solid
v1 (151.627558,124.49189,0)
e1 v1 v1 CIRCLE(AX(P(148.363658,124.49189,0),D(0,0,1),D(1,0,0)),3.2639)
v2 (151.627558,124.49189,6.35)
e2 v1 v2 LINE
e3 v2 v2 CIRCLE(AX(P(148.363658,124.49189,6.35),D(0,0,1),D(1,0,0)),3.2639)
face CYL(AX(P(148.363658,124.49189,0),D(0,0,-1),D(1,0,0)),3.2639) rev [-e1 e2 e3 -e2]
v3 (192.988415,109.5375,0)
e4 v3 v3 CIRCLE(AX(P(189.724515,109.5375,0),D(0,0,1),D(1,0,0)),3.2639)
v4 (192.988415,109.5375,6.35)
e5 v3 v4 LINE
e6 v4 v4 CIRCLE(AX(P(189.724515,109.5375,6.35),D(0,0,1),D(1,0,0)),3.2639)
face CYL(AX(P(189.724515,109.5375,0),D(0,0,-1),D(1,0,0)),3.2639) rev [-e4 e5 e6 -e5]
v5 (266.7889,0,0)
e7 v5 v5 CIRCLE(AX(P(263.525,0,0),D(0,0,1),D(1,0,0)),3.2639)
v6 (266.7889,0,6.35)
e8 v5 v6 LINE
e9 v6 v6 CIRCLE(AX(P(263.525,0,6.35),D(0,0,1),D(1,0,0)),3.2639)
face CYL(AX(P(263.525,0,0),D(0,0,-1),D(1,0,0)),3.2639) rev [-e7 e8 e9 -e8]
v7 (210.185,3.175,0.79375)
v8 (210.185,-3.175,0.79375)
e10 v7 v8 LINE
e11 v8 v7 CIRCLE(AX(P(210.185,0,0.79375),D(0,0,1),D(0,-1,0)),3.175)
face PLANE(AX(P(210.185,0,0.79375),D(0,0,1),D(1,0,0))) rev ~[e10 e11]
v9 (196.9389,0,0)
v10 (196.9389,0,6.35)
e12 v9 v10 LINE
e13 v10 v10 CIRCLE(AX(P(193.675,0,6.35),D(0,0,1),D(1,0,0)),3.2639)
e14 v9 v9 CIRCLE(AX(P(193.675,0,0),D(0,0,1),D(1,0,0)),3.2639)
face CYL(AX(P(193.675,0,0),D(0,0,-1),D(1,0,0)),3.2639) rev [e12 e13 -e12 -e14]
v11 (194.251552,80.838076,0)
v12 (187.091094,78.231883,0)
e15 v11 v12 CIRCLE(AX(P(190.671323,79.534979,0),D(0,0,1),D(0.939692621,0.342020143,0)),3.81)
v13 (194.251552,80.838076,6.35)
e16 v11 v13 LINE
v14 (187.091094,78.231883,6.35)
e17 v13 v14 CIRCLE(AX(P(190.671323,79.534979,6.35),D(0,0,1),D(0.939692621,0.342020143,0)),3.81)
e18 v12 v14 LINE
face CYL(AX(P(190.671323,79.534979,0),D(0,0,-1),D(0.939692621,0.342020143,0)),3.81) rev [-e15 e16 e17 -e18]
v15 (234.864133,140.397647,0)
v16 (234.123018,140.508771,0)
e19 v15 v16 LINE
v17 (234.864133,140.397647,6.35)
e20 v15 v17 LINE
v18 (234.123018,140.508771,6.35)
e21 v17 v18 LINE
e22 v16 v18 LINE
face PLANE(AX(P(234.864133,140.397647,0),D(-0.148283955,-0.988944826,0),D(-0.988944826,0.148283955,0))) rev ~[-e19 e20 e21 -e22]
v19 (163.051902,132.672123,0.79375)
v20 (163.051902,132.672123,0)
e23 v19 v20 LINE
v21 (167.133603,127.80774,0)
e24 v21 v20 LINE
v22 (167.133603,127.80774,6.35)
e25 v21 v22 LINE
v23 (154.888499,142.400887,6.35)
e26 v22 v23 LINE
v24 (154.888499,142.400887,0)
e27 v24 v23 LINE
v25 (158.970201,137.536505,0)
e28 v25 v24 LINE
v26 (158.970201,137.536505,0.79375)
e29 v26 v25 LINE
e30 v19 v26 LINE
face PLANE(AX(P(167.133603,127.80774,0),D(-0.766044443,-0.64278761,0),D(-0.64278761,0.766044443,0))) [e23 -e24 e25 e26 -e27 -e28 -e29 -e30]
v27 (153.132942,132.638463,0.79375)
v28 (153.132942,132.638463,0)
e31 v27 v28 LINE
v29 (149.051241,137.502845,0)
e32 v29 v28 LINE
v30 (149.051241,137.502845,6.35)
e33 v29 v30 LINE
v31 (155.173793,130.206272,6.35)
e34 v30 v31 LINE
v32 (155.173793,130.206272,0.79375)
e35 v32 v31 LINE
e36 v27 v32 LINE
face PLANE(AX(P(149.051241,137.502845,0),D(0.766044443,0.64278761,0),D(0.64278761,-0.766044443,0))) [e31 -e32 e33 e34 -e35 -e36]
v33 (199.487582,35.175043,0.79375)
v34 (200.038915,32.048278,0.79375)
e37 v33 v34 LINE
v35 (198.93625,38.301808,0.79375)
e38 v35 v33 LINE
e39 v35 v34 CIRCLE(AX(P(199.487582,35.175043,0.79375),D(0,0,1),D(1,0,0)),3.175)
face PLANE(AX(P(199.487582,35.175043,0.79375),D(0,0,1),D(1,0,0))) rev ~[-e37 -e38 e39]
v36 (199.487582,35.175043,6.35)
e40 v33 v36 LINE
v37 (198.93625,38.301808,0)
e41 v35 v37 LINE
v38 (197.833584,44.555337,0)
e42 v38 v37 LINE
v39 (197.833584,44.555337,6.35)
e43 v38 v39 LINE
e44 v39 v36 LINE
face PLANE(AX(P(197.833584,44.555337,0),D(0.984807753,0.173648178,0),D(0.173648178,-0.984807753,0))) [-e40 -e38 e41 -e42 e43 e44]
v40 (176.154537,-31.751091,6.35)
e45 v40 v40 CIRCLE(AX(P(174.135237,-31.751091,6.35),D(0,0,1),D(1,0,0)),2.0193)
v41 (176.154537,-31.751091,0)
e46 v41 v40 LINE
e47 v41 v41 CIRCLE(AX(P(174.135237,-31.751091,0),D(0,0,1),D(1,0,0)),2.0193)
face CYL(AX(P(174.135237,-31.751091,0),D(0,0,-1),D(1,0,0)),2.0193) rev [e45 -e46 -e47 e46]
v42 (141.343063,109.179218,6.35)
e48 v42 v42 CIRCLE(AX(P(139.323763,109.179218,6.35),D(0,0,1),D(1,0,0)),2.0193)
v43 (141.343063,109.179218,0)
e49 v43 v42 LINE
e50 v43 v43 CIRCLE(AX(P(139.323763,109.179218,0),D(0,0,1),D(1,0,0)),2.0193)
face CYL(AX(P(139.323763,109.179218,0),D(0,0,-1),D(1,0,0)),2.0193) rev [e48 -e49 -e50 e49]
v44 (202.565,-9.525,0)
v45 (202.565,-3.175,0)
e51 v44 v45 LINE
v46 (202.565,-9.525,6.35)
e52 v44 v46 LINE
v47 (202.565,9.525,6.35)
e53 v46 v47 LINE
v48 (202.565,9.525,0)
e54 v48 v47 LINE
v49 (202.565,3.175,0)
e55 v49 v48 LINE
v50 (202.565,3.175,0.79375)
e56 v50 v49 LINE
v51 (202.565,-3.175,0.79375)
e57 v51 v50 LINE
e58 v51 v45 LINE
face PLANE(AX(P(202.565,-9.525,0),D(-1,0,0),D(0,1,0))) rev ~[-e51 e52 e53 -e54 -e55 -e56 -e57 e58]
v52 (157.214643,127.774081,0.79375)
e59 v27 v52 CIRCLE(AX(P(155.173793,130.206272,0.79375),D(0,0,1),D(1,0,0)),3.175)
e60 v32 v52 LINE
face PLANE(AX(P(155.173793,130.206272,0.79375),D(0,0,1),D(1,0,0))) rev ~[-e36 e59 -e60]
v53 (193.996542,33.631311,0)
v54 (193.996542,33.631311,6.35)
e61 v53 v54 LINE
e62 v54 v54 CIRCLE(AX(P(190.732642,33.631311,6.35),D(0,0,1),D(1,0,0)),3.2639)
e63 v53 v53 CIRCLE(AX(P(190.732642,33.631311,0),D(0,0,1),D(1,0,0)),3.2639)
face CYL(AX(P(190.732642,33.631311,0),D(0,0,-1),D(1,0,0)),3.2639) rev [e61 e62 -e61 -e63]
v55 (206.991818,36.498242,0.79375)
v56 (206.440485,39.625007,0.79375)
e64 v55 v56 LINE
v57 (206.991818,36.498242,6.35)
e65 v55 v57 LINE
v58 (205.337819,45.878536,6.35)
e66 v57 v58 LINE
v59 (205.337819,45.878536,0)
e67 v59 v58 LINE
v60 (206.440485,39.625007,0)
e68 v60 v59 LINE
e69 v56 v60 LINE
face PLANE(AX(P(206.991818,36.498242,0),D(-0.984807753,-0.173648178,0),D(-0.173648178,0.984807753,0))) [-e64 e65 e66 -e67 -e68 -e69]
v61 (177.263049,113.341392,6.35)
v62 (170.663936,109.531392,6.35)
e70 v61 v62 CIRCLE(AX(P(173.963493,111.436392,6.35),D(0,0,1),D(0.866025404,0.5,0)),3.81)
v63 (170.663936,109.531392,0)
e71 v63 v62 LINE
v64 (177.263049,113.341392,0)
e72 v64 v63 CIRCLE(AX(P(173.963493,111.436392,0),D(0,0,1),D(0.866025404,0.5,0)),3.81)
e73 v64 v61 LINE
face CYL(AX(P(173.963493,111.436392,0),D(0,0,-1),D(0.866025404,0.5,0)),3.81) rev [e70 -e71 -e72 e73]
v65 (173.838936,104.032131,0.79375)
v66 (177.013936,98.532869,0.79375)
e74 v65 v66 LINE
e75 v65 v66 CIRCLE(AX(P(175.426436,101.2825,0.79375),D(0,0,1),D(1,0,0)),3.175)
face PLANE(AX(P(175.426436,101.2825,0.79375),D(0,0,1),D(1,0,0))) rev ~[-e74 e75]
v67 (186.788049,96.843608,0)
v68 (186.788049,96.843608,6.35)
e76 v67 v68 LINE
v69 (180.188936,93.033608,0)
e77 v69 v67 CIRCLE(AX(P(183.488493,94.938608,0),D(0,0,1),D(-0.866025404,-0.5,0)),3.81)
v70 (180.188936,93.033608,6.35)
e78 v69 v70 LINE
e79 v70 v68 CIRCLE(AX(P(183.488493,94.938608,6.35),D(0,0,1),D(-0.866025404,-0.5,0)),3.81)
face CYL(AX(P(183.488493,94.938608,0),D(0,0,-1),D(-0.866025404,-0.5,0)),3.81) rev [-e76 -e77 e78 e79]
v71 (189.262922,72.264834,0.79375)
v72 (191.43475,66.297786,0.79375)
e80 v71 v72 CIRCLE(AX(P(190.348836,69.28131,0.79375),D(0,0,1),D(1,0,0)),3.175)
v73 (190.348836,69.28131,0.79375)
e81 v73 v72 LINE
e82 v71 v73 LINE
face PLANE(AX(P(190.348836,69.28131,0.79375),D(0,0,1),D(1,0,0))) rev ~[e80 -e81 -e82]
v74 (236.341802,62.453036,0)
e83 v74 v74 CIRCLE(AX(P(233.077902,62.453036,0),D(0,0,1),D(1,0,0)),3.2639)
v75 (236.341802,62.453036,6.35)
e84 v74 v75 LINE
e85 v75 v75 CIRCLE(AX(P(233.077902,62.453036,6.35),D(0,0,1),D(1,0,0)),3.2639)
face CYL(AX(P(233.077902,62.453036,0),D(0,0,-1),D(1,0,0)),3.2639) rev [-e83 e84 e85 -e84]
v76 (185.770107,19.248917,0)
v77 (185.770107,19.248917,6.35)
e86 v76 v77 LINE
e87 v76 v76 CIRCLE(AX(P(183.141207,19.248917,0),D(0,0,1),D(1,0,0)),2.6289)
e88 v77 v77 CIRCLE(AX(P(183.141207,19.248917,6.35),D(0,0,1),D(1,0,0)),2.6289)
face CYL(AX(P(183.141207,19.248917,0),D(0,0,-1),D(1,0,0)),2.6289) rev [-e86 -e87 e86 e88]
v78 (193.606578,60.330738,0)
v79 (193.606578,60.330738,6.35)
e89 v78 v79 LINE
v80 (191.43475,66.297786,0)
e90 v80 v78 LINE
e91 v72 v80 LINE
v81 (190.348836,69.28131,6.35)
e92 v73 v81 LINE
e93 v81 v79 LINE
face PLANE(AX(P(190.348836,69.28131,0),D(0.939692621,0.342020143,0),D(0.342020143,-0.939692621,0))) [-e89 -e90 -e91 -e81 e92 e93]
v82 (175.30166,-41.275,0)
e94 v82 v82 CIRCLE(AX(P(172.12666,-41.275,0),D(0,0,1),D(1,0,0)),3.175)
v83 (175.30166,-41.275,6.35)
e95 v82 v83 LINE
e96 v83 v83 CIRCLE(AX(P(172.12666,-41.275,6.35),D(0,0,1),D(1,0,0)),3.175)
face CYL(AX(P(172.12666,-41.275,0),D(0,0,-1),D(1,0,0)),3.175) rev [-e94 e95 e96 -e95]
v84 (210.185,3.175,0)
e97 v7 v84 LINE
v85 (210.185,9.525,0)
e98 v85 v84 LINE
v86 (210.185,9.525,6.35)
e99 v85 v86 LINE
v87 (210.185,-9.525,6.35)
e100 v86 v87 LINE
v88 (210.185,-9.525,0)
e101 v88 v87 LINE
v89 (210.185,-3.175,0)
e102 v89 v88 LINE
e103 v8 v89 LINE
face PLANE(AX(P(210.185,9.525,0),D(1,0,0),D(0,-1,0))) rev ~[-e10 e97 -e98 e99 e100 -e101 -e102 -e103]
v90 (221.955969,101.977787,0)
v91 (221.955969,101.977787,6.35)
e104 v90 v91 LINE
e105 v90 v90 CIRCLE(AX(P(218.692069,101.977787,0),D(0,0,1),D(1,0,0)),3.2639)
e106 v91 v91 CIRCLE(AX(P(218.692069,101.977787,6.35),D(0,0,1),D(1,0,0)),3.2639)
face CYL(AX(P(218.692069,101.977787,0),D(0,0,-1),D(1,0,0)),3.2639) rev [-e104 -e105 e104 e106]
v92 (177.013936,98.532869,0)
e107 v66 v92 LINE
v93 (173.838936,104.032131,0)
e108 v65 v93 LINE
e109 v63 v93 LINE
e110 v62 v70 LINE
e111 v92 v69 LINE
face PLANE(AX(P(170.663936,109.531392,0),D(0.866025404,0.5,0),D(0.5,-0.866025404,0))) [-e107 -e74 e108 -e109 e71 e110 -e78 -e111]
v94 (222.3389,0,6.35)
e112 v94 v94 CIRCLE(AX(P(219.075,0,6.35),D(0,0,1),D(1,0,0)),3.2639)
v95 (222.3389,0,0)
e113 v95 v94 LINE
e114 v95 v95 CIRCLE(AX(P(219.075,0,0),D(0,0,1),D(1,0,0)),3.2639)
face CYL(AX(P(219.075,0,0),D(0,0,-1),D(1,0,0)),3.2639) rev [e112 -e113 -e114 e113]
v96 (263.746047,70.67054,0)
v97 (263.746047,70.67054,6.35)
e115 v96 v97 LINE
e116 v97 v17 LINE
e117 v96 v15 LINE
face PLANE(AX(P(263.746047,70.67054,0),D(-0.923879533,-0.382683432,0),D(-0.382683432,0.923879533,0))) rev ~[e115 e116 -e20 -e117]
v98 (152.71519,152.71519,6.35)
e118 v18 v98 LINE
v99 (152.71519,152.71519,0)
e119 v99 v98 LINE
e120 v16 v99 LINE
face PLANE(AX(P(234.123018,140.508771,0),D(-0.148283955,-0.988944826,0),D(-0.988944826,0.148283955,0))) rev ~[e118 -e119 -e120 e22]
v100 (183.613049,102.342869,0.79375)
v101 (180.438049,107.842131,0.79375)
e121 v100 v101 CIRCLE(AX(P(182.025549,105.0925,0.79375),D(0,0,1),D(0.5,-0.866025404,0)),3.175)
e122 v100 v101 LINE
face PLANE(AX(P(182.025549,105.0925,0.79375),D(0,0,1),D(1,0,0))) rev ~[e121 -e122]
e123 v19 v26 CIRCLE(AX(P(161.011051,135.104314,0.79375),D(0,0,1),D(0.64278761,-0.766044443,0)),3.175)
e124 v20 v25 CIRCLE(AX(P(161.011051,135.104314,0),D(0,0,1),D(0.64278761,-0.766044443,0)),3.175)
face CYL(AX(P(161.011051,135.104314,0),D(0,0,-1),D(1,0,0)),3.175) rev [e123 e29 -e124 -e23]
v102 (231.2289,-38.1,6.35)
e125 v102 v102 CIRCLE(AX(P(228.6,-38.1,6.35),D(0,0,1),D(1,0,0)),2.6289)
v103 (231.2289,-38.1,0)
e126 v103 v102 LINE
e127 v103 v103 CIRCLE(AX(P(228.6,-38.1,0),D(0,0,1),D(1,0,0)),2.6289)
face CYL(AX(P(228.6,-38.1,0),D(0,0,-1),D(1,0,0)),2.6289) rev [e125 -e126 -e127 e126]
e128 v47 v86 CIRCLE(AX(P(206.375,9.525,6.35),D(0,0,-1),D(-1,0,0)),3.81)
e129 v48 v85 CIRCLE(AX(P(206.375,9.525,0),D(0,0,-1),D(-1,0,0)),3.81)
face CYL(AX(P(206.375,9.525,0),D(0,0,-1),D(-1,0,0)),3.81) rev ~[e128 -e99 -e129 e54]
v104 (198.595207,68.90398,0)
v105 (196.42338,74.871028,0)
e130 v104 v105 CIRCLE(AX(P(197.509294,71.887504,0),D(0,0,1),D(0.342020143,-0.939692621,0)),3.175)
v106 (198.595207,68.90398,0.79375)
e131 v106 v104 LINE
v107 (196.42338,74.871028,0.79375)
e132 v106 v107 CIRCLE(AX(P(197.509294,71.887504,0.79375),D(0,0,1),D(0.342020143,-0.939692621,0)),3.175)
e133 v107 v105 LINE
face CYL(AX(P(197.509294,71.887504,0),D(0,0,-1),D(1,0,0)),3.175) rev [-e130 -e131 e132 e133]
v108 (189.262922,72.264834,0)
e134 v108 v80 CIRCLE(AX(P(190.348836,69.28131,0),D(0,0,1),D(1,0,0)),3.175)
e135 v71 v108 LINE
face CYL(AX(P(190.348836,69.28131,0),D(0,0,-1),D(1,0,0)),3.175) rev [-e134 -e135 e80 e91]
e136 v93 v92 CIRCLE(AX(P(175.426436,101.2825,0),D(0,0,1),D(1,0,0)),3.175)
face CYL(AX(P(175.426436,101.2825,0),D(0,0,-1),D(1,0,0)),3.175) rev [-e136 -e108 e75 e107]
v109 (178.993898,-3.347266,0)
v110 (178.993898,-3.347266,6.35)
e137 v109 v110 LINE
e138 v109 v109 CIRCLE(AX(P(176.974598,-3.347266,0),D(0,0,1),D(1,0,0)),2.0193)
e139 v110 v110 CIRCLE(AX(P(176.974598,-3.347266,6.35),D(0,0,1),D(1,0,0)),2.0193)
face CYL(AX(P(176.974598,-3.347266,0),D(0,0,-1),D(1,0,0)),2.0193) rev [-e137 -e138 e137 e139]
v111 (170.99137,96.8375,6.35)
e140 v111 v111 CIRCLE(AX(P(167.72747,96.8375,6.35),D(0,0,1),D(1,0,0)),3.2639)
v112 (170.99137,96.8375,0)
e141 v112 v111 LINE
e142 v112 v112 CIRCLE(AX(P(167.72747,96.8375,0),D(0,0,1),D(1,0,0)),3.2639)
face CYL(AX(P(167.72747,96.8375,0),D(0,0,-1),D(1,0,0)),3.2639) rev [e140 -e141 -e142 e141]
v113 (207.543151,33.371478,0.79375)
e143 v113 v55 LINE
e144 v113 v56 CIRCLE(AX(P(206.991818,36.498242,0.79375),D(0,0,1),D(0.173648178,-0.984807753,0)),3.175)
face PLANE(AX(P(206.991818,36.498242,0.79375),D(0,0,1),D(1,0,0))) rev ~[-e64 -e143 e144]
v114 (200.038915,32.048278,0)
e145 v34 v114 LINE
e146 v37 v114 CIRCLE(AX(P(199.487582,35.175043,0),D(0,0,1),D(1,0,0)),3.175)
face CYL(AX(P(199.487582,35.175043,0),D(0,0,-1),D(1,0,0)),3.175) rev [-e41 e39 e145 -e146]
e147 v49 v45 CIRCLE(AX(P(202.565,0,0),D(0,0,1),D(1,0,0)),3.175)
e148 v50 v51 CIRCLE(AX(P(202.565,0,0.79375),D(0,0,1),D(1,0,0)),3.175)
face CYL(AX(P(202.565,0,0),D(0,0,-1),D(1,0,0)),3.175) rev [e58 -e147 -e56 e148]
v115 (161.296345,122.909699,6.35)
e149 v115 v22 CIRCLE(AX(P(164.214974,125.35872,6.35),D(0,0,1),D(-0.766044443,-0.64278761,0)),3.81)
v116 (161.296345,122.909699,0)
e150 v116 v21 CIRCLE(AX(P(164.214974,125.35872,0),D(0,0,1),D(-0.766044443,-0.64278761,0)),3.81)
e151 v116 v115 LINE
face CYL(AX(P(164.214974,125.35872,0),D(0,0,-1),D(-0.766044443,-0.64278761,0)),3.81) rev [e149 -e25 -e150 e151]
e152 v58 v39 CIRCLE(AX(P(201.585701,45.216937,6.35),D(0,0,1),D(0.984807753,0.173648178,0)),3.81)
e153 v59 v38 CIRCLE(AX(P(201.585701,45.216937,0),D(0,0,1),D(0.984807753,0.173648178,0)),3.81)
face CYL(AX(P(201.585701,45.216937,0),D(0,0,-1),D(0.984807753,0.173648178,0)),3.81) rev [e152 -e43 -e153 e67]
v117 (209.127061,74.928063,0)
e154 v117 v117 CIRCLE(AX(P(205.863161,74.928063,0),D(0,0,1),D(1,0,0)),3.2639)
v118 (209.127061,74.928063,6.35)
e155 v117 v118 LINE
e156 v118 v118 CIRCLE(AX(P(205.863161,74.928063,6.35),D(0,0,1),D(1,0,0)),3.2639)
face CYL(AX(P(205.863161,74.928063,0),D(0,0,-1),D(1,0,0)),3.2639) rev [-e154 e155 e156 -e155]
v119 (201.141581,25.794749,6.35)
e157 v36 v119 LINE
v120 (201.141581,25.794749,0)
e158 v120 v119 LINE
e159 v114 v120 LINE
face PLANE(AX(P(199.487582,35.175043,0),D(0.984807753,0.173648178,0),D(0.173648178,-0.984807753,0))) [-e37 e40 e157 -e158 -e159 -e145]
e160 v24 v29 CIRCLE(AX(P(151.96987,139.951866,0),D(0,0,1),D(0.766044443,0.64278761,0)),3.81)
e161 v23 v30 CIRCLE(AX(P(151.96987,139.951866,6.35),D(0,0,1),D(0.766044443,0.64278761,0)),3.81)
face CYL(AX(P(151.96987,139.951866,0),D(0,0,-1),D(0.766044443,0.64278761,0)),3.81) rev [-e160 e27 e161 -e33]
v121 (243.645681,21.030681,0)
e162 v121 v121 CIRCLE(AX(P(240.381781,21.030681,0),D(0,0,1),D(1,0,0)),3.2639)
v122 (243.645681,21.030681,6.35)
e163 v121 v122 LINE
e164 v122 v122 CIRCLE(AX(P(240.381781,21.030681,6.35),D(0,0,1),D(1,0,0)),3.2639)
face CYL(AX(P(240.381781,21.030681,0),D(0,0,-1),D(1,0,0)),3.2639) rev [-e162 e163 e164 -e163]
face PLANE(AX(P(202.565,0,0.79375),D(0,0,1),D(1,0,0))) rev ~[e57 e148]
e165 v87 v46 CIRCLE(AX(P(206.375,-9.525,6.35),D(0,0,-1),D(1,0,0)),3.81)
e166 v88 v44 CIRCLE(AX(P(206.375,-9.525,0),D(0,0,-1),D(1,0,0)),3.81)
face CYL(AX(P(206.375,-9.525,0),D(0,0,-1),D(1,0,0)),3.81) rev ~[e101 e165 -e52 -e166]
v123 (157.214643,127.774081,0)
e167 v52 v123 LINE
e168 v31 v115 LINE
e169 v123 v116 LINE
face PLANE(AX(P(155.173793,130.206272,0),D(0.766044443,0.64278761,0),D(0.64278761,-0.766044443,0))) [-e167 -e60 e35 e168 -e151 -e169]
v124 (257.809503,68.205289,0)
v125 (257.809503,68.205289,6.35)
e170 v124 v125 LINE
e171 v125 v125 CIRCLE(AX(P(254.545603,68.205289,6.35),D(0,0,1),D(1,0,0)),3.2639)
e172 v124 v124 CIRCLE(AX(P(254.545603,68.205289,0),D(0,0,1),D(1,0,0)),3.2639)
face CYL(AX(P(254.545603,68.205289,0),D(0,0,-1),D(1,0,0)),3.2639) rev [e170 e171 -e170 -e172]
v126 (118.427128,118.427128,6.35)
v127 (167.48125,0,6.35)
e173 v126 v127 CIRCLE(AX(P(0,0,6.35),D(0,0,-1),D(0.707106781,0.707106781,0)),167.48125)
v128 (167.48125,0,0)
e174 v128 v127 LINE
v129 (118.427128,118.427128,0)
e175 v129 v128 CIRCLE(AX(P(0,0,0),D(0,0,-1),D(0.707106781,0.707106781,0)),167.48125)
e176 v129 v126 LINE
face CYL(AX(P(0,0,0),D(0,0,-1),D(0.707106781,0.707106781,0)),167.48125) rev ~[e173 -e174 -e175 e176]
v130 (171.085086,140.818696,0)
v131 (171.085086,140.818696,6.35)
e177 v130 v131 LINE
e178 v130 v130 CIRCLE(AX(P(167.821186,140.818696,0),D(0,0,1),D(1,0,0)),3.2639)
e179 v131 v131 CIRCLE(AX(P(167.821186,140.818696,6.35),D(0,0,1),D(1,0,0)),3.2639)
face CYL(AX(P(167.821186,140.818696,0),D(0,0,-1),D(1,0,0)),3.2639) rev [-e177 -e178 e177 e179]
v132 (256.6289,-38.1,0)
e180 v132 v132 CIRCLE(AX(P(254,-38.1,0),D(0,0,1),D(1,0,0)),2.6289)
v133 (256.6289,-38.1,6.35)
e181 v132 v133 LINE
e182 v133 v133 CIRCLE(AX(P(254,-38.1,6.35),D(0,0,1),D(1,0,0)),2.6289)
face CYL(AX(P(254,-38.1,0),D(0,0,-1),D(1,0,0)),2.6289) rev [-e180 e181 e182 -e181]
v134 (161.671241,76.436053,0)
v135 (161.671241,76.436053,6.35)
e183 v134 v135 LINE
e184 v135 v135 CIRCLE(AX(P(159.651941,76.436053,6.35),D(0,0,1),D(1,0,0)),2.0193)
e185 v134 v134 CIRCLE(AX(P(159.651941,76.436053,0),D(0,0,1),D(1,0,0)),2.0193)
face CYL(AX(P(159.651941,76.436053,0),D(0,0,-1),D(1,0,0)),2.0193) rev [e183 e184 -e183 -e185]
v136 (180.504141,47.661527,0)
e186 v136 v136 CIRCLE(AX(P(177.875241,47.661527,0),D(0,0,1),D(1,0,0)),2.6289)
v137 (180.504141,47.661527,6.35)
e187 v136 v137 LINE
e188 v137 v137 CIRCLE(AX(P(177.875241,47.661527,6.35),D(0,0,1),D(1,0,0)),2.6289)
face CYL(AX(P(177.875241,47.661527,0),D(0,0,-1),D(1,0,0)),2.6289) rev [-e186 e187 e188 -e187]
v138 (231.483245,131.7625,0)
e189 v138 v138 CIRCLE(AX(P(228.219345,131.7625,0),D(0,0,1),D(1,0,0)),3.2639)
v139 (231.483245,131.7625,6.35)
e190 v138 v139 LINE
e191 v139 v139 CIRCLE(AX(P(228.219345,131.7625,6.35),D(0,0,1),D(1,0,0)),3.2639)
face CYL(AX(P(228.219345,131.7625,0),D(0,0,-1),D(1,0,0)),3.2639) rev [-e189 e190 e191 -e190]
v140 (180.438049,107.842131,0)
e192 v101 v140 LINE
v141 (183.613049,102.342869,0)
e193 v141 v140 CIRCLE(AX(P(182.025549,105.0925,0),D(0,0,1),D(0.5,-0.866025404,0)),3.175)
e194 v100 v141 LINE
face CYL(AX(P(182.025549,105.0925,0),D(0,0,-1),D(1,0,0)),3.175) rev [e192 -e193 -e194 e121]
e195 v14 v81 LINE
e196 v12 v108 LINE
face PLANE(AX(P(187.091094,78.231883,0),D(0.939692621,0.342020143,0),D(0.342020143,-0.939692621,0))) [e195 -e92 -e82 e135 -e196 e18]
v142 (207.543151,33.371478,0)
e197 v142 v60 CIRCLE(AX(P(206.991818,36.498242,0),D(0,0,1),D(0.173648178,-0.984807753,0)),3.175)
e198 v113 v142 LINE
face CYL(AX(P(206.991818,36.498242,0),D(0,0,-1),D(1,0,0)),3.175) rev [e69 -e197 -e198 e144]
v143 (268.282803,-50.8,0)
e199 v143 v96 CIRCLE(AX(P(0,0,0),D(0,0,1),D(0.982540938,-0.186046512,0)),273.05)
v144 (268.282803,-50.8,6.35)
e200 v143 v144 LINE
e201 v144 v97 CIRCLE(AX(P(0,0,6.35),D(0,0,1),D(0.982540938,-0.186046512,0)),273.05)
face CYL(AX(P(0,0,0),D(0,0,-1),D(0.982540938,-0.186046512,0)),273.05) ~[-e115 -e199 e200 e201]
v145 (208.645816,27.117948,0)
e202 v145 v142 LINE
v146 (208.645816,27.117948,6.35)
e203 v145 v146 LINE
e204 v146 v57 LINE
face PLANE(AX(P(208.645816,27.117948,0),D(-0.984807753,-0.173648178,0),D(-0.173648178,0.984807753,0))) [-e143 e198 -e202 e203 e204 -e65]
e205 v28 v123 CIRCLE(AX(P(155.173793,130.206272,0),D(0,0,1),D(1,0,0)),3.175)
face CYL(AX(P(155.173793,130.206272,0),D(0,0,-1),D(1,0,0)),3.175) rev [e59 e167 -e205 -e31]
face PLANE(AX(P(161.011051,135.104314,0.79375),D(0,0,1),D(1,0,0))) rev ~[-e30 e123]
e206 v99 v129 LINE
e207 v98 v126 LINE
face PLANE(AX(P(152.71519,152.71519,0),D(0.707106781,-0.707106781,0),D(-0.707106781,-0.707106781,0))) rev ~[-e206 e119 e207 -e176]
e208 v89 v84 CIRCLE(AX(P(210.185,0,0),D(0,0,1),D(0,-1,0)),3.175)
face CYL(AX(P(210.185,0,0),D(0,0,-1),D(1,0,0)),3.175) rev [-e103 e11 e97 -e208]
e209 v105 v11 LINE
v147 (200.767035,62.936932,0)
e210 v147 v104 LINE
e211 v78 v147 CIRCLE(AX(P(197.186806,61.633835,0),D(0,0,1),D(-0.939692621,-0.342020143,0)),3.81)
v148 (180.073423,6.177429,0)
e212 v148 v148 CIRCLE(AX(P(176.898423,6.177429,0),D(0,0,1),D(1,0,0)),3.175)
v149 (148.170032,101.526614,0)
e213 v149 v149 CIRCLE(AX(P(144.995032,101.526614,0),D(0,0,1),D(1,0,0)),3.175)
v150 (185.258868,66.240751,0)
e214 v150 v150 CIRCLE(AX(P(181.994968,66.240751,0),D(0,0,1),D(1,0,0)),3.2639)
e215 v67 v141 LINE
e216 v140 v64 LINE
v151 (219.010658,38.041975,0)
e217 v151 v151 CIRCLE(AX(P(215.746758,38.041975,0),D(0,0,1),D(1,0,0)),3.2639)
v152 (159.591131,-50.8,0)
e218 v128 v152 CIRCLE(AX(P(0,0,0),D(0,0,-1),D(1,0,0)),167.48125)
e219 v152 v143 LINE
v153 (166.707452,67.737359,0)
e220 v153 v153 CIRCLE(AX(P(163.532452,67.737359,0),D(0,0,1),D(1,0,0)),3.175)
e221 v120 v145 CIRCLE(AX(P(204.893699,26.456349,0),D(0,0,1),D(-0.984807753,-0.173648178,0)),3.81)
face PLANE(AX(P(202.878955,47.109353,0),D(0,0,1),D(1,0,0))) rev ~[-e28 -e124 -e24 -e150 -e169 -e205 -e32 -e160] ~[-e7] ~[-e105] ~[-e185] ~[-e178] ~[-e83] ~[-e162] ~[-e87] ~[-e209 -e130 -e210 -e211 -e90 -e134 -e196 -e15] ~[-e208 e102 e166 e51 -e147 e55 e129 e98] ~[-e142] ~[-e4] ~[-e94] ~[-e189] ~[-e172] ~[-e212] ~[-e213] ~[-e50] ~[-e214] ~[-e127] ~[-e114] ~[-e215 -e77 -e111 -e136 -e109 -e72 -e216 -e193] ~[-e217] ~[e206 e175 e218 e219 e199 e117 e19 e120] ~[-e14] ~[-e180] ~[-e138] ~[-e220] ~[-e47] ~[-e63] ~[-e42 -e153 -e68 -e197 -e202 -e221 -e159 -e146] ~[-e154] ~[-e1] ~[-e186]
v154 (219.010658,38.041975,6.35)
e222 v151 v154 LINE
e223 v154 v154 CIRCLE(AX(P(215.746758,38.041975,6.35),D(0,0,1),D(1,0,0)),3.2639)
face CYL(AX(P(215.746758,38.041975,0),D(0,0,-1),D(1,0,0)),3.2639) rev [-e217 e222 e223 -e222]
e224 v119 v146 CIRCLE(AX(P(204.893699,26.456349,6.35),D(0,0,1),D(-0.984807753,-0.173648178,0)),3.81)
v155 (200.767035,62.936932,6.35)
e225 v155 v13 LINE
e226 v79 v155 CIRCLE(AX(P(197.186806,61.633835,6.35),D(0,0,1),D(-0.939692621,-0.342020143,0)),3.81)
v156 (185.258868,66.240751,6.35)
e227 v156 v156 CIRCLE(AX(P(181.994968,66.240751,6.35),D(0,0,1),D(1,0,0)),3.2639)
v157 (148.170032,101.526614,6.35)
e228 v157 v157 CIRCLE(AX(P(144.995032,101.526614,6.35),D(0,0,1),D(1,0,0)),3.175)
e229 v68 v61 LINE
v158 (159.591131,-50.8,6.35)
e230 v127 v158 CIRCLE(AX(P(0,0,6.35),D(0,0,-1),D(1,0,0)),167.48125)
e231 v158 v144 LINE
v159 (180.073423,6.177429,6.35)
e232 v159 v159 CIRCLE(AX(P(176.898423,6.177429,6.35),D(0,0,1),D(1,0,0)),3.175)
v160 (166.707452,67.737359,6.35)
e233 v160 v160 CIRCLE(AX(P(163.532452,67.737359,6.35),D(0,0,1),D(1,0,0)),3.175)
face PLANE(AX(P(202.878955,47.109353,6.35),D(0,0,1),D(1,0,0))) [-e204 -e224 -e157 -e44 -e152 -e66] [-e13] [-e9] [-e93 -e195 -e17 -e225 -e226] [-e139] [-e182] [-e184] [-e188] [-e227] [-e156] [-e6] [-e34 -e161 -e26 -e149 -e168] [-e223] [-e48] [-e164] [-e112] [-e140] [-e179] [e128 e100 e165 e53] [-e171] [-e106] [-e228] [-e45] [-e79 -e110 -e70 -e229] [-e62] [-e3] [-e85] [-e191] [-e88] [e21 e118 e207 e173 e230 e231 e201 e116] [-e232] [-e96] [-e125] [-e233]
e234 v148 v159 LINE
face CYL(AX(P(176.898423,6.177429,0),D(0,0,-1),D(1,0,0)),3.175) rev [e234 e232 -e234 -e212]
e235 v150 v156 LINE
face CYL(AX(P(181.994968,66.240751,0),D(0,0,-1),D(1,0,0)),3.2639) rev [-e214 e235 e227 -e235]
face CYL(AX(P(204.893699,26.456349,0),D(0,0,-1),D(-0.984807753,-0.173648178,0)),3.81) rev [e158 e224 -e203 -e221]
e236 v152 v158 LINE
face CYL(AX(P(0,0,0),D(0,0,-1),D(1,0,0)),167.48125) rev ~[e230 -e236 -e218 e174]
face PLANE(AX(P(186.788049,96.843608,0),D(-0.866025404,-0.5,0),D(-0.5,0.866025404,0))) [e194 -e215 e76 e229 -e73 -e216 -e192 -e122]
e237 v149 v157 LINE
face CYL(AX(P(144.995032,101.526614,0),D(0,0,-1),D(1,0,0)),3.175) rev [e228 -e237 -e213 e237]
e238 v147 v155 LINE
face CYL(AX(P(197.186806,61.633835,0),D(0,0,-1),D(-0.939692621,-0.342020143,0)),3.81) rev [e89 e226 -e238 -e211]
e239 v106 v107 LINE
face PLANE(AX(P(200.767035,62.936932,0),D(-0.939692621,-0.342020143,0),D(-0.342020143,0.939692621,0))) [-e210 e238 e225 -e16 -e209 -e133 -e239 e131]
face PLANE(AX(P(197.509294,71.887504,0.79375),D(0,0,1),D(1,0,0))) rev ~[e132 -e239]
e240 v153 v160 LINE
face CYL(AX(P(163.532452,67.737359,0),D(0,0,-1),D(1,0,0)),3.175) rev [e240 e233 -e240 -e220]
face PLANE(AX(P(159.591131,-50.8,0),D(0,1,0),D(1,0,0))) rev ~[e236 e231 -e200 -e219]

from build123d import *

# Parameters (mm, degrees)
SKETCH1_R           = 3.175
SKETCH1_R_2         = 3.2639
SKETCH1_R_3         = 2.6289
SKETCH1_R_4         = 2.0193
BOSS_EXTRUDE1_DEPTH = 6.35
SKETCH2_R           = 3.175
CUT_EXTRUDE1_DEPTH  = 0.79375


with BuildPart() as part:
    # Sketch1 → Boss-Extrude1 (new body)
    with BuildSketch(Plane.XY):
        with BuildLine():
            Line((159.591131024, -50.8), (268.282803213, -50.8))
            ThreePointArc((268.282803213, -50.8), (272.859757692, 10.190933821), (263.746046868, 70.670540265))
            Line((263.746046868, 70.670540265), (234.864133392, 140.397647486))
            Line((234.864133392, 140.397647486), (234.123018172, 140.508771477))
            Line((234.123018172, 140.508771477), (152.715190262, 152.715190262))
            Line((152.715190262, 152.715190262), (118.427127597, 118.427127597))
            ThreePointArc((118.427127597, 118.427127597), (154.732498954, 64.092299607), (167.48125, 0))
            ThreePointArc((167.48125, 0), (165.496965553, -25.70454229), (159.591131024, -50.8))
        make_face()
        with Locations((176.898422575, 6.177429038)):
            Circle(SKETCH1_R, mode=Mode.SUBTRACT)
        with Locations((144.995031539, 101.526614087)):
            Circle(SKETCH1_R, mode=Mode.SUBTRACT)
        with Locations((163.532451502, 67.7373593)):
            Circle(SKETCH1_R, mode=Mode.SUBTRACT)
        with Locations((172.12665951, -41.275)):
            Circle(SKETCH1_R, mode=Mode.SUBTRACT)
        with Locations((193.675, 0)):
            Circle(SKETCH1_R_2, mode=Mode.SUBTRACT)
        with Locations((219.075, 0)):
            Circle(SKETCH1_R_2, mode=Mode.SUBTRACT)
        with Locations((215.746758491, 38.041974522)):
            Circle(SKETCH1_R_2, mode=Mode.SUBTRACT)
        with Locations((190.732641565, 33.63131081)):
            Circle(SKETCH1_R_2, mode=Mode.SUBTRACT)
        with Locations((205.863160899, 74.928062899)):
            Circle(SKETCH1_R_2, mode=Mode.SUBTRACT)
        with Locations((181.994968331, 66.240751259)):
            Circle(SKETCH1_R_2, mode=Mode.SUBTRACT)
        with Locations((189.724515334, 109.5375)):
            Circle(SKETCH1_R_2, mode=Mode.SUBTRACT)
        with Locations((167.727470078, 96.8375)):
            Circle(SKETCH1_R_2, mode=Mode.SUBTRACT)
        with Locations((167.821186376, 140.818695592)):
            Circle(SKETCH1_R_2, mode=Mode.SUBTRACT)
        with Locations((148.363657521, 124.491890306)):
            Circle(SKETCH1_R_2, mode=Mode.SUBTRACT)
        with Locations((263.525, 0)):
            Circle(SKETCH1_R_2, mode=Mode.SUBTRACT)
        with Locations((254.545603373, 68.205288861)):
            Circle(SKETCH1_R_2, mode=Mode.SUBTRACT)
        with Locations((228.219344532, 131.7625)):
            Circle(SKETCH1_R_2, mode=Mode.SUBTRACT)
        with Locations((177.875240911, 47.661527156)):
            Circle(SKETCH1_R_3, mode=Mode.SUBTRACT)
        with Locations((183.141207032, 19.248916511)):
            Circle(SKETCH1_R_3, mode=Mode.SUBTRACT)
        with Locations((139.323763183, 109.179217581)):
            Circle(SKETCH1_R_4, mode=Mode.SUBTRACT)
        with Locations((159.651941396, 76.436052669)):
            Circle(SKETCH1_R_4, mode=Mode.SUBTRACT)
        with Locations((176.974598028, -3.347266353)):
            Circle(SKETCH1_R_4, mode=Mode.SUBTRACT)
        with Locations((174.135237045, -31.751090662)):
            Circle(SKETCH1_R_4, mode=Mode.SUBTRACT)
        with Locations((240.38178065, 21.030680725)):
            Circle(SKETCH1_R_2, mode=Mode.SUBTRACT)
        with Locations((233.077901884, 62.453035583)):
            Circle(SKETCH1_R_2, mode=Mode.SUBTRACT)
        with Locations((218.692069012, 101.977786558)):
            Circle(SKETCH1_R_2, mode=Mode.SUBTRACT)
        with Locations((228.6, -38.1)):
            Circle(SKETCH1_R_3, mode=Mode.SUBTRACT)
        with Locations((254, -38.1)):
            Circle(SKETCH1_R_3, mode=Mode.SUBTRACT)
        with BuildLine():
            Line((202.565, 0), (202.565, 9.525))
            ThreePointArc((202.565, 9.525), (206.375, 13.335), (210.185, 9.525))
            Line((210.185, 9.525), (210.185, 0))
            Line((210.185, 0), (210.185, -9.525))
            ThreePointArc((210.185, -9.525), (206.375, -13.335), (202.565, -9.525))
            Line((202.565, -9.525), (202.565, 0))
        make_face(mode=Mode.SUBTRACT)
        with BuildLine():
            Line((199.487582489, 35.175043109), (201.141581381, 25.794749262))
            ThreePointArc((201.141581381, 25.794749262), (205.555298477, 22.70423128), (208.645816459, 27.117948375))
            Line((208.645816459, 27.117948375), (206.991817567, 36.498242223))
            Line((206.991817567, 36.498242223), (205.337818675, 45.87853607))
            ThreePointArc((205.337818675, 45.87853607), (200.924101579, 48.969054052), (197.833583597, 44.555336957))
            Line((197.833583597, 44.555336957), (199.487582489, 35.175043109))
        make_face(mode=Mode.SUBTRACT)
        with BuildLine():
            Line((190.348835729, 69.281310333), (193.606577595, 60.33073812))
            ThreePointArc((193.606577595, 60.33073812), (198.489903226, 58.053605981), (200.767035365, 62.936931612))
            Line((200.767035365, 62.936931612), (197.5092935, 71.887503825))
            Line((197.5092935, 71.887503825), (194.251551635, 80.838076038))
            ThreePointArc((194.251551635, 80.838076038), (189.368226003, 83.115208177), (187.091093864, 78.231882546))
            Line((187.091093864, 78.231882546), (190.348835729, 69.281310333))
        make_face(mode=Mode.SUBTRACT)
        with BuildLine():
            Line((175.426435918, 101.2825), (180.188935918, 93.033608029))
            ThreePointArc((180.188935918, 93.033608029), (185.393492706, 91.639051241), (186.788049494, 96.843608029))
            Line((186.788049494, 96.843608029), (182.025549494, 105.0925))
            Line((182.025549494, 105.0925), (177.263049494, 113.341391971))
            ThreePointArc((177.263049494, 113.341391971), (172.058492706, 114.735948759), (170.663935918, 109.531391971))
            Line((170.663935918, 109.531391971), (175.426435918, 101.2825))
        make_face(mode=Mode.SUBTRACT)
        with BuildLine():
            Line((155.17379262, 130.206272156), (161.296344603, 122.909698835))
            ThreePointArc((161.296344603, 122.909698835), (166.663994724, 122.4400903), (167.133603259, 127.807740421))
            Line((167.133603259, 127.807740421), (161.011051277, 135.104313742))
            Line((161.011051277, 135.104313742), (154.888499295, 142.400887063))
            ThreePointArc((154.888499295, 142.400887063), (149.520849174, 142.870495598), (149.051240638, 137.502845477))
            Line((149.051240638, 137.502845477), (155.17379262, 130.206272156))
        make_face(mode=Mode.SUBTRACT)
    extrude(amount=BOSS_EXTRUDE1_DEPTH)

    # Sketch2 → Cut-Extrude1 (cut)
    with BuildSketch(Plane.XY):
        with Locations((202.565, 0)):
            Circle(SKETCH2_R)
        with Locations((210.185, 0)):
            Circle(SKETCH2_R)
        with Locations((199.487582489, 35.175043109)):
            Circle(SKETCH2_R)
        with Locations((206.991817567, 36.498242223)):
            Circle(SKETCH2_R)
        with Locations((190.348835729, 69.281310333)):
            Circle(SKETCH2_R)
        with Locations((197.5092935, 71.887503825)):
            Circle(SKETCH2_R)
        with Locations((175.426435918, 101.2825)):
            Circle(SKETCH2_R)
        with Locations((182.025549494, 105.0925)):
            Circle(SKETCH2_R)
        with Locations((155.17379262, 130.206272156)):
            Circle(SKETCH2_R)
        with Locations((161.011051277, 135.104313742)):
            Circle(SKETCH2_R)
    extrude(amount=CUT_EXTRUDE1_DEPTH, mode=Mode.SUBTRACT)


solid = part.part
